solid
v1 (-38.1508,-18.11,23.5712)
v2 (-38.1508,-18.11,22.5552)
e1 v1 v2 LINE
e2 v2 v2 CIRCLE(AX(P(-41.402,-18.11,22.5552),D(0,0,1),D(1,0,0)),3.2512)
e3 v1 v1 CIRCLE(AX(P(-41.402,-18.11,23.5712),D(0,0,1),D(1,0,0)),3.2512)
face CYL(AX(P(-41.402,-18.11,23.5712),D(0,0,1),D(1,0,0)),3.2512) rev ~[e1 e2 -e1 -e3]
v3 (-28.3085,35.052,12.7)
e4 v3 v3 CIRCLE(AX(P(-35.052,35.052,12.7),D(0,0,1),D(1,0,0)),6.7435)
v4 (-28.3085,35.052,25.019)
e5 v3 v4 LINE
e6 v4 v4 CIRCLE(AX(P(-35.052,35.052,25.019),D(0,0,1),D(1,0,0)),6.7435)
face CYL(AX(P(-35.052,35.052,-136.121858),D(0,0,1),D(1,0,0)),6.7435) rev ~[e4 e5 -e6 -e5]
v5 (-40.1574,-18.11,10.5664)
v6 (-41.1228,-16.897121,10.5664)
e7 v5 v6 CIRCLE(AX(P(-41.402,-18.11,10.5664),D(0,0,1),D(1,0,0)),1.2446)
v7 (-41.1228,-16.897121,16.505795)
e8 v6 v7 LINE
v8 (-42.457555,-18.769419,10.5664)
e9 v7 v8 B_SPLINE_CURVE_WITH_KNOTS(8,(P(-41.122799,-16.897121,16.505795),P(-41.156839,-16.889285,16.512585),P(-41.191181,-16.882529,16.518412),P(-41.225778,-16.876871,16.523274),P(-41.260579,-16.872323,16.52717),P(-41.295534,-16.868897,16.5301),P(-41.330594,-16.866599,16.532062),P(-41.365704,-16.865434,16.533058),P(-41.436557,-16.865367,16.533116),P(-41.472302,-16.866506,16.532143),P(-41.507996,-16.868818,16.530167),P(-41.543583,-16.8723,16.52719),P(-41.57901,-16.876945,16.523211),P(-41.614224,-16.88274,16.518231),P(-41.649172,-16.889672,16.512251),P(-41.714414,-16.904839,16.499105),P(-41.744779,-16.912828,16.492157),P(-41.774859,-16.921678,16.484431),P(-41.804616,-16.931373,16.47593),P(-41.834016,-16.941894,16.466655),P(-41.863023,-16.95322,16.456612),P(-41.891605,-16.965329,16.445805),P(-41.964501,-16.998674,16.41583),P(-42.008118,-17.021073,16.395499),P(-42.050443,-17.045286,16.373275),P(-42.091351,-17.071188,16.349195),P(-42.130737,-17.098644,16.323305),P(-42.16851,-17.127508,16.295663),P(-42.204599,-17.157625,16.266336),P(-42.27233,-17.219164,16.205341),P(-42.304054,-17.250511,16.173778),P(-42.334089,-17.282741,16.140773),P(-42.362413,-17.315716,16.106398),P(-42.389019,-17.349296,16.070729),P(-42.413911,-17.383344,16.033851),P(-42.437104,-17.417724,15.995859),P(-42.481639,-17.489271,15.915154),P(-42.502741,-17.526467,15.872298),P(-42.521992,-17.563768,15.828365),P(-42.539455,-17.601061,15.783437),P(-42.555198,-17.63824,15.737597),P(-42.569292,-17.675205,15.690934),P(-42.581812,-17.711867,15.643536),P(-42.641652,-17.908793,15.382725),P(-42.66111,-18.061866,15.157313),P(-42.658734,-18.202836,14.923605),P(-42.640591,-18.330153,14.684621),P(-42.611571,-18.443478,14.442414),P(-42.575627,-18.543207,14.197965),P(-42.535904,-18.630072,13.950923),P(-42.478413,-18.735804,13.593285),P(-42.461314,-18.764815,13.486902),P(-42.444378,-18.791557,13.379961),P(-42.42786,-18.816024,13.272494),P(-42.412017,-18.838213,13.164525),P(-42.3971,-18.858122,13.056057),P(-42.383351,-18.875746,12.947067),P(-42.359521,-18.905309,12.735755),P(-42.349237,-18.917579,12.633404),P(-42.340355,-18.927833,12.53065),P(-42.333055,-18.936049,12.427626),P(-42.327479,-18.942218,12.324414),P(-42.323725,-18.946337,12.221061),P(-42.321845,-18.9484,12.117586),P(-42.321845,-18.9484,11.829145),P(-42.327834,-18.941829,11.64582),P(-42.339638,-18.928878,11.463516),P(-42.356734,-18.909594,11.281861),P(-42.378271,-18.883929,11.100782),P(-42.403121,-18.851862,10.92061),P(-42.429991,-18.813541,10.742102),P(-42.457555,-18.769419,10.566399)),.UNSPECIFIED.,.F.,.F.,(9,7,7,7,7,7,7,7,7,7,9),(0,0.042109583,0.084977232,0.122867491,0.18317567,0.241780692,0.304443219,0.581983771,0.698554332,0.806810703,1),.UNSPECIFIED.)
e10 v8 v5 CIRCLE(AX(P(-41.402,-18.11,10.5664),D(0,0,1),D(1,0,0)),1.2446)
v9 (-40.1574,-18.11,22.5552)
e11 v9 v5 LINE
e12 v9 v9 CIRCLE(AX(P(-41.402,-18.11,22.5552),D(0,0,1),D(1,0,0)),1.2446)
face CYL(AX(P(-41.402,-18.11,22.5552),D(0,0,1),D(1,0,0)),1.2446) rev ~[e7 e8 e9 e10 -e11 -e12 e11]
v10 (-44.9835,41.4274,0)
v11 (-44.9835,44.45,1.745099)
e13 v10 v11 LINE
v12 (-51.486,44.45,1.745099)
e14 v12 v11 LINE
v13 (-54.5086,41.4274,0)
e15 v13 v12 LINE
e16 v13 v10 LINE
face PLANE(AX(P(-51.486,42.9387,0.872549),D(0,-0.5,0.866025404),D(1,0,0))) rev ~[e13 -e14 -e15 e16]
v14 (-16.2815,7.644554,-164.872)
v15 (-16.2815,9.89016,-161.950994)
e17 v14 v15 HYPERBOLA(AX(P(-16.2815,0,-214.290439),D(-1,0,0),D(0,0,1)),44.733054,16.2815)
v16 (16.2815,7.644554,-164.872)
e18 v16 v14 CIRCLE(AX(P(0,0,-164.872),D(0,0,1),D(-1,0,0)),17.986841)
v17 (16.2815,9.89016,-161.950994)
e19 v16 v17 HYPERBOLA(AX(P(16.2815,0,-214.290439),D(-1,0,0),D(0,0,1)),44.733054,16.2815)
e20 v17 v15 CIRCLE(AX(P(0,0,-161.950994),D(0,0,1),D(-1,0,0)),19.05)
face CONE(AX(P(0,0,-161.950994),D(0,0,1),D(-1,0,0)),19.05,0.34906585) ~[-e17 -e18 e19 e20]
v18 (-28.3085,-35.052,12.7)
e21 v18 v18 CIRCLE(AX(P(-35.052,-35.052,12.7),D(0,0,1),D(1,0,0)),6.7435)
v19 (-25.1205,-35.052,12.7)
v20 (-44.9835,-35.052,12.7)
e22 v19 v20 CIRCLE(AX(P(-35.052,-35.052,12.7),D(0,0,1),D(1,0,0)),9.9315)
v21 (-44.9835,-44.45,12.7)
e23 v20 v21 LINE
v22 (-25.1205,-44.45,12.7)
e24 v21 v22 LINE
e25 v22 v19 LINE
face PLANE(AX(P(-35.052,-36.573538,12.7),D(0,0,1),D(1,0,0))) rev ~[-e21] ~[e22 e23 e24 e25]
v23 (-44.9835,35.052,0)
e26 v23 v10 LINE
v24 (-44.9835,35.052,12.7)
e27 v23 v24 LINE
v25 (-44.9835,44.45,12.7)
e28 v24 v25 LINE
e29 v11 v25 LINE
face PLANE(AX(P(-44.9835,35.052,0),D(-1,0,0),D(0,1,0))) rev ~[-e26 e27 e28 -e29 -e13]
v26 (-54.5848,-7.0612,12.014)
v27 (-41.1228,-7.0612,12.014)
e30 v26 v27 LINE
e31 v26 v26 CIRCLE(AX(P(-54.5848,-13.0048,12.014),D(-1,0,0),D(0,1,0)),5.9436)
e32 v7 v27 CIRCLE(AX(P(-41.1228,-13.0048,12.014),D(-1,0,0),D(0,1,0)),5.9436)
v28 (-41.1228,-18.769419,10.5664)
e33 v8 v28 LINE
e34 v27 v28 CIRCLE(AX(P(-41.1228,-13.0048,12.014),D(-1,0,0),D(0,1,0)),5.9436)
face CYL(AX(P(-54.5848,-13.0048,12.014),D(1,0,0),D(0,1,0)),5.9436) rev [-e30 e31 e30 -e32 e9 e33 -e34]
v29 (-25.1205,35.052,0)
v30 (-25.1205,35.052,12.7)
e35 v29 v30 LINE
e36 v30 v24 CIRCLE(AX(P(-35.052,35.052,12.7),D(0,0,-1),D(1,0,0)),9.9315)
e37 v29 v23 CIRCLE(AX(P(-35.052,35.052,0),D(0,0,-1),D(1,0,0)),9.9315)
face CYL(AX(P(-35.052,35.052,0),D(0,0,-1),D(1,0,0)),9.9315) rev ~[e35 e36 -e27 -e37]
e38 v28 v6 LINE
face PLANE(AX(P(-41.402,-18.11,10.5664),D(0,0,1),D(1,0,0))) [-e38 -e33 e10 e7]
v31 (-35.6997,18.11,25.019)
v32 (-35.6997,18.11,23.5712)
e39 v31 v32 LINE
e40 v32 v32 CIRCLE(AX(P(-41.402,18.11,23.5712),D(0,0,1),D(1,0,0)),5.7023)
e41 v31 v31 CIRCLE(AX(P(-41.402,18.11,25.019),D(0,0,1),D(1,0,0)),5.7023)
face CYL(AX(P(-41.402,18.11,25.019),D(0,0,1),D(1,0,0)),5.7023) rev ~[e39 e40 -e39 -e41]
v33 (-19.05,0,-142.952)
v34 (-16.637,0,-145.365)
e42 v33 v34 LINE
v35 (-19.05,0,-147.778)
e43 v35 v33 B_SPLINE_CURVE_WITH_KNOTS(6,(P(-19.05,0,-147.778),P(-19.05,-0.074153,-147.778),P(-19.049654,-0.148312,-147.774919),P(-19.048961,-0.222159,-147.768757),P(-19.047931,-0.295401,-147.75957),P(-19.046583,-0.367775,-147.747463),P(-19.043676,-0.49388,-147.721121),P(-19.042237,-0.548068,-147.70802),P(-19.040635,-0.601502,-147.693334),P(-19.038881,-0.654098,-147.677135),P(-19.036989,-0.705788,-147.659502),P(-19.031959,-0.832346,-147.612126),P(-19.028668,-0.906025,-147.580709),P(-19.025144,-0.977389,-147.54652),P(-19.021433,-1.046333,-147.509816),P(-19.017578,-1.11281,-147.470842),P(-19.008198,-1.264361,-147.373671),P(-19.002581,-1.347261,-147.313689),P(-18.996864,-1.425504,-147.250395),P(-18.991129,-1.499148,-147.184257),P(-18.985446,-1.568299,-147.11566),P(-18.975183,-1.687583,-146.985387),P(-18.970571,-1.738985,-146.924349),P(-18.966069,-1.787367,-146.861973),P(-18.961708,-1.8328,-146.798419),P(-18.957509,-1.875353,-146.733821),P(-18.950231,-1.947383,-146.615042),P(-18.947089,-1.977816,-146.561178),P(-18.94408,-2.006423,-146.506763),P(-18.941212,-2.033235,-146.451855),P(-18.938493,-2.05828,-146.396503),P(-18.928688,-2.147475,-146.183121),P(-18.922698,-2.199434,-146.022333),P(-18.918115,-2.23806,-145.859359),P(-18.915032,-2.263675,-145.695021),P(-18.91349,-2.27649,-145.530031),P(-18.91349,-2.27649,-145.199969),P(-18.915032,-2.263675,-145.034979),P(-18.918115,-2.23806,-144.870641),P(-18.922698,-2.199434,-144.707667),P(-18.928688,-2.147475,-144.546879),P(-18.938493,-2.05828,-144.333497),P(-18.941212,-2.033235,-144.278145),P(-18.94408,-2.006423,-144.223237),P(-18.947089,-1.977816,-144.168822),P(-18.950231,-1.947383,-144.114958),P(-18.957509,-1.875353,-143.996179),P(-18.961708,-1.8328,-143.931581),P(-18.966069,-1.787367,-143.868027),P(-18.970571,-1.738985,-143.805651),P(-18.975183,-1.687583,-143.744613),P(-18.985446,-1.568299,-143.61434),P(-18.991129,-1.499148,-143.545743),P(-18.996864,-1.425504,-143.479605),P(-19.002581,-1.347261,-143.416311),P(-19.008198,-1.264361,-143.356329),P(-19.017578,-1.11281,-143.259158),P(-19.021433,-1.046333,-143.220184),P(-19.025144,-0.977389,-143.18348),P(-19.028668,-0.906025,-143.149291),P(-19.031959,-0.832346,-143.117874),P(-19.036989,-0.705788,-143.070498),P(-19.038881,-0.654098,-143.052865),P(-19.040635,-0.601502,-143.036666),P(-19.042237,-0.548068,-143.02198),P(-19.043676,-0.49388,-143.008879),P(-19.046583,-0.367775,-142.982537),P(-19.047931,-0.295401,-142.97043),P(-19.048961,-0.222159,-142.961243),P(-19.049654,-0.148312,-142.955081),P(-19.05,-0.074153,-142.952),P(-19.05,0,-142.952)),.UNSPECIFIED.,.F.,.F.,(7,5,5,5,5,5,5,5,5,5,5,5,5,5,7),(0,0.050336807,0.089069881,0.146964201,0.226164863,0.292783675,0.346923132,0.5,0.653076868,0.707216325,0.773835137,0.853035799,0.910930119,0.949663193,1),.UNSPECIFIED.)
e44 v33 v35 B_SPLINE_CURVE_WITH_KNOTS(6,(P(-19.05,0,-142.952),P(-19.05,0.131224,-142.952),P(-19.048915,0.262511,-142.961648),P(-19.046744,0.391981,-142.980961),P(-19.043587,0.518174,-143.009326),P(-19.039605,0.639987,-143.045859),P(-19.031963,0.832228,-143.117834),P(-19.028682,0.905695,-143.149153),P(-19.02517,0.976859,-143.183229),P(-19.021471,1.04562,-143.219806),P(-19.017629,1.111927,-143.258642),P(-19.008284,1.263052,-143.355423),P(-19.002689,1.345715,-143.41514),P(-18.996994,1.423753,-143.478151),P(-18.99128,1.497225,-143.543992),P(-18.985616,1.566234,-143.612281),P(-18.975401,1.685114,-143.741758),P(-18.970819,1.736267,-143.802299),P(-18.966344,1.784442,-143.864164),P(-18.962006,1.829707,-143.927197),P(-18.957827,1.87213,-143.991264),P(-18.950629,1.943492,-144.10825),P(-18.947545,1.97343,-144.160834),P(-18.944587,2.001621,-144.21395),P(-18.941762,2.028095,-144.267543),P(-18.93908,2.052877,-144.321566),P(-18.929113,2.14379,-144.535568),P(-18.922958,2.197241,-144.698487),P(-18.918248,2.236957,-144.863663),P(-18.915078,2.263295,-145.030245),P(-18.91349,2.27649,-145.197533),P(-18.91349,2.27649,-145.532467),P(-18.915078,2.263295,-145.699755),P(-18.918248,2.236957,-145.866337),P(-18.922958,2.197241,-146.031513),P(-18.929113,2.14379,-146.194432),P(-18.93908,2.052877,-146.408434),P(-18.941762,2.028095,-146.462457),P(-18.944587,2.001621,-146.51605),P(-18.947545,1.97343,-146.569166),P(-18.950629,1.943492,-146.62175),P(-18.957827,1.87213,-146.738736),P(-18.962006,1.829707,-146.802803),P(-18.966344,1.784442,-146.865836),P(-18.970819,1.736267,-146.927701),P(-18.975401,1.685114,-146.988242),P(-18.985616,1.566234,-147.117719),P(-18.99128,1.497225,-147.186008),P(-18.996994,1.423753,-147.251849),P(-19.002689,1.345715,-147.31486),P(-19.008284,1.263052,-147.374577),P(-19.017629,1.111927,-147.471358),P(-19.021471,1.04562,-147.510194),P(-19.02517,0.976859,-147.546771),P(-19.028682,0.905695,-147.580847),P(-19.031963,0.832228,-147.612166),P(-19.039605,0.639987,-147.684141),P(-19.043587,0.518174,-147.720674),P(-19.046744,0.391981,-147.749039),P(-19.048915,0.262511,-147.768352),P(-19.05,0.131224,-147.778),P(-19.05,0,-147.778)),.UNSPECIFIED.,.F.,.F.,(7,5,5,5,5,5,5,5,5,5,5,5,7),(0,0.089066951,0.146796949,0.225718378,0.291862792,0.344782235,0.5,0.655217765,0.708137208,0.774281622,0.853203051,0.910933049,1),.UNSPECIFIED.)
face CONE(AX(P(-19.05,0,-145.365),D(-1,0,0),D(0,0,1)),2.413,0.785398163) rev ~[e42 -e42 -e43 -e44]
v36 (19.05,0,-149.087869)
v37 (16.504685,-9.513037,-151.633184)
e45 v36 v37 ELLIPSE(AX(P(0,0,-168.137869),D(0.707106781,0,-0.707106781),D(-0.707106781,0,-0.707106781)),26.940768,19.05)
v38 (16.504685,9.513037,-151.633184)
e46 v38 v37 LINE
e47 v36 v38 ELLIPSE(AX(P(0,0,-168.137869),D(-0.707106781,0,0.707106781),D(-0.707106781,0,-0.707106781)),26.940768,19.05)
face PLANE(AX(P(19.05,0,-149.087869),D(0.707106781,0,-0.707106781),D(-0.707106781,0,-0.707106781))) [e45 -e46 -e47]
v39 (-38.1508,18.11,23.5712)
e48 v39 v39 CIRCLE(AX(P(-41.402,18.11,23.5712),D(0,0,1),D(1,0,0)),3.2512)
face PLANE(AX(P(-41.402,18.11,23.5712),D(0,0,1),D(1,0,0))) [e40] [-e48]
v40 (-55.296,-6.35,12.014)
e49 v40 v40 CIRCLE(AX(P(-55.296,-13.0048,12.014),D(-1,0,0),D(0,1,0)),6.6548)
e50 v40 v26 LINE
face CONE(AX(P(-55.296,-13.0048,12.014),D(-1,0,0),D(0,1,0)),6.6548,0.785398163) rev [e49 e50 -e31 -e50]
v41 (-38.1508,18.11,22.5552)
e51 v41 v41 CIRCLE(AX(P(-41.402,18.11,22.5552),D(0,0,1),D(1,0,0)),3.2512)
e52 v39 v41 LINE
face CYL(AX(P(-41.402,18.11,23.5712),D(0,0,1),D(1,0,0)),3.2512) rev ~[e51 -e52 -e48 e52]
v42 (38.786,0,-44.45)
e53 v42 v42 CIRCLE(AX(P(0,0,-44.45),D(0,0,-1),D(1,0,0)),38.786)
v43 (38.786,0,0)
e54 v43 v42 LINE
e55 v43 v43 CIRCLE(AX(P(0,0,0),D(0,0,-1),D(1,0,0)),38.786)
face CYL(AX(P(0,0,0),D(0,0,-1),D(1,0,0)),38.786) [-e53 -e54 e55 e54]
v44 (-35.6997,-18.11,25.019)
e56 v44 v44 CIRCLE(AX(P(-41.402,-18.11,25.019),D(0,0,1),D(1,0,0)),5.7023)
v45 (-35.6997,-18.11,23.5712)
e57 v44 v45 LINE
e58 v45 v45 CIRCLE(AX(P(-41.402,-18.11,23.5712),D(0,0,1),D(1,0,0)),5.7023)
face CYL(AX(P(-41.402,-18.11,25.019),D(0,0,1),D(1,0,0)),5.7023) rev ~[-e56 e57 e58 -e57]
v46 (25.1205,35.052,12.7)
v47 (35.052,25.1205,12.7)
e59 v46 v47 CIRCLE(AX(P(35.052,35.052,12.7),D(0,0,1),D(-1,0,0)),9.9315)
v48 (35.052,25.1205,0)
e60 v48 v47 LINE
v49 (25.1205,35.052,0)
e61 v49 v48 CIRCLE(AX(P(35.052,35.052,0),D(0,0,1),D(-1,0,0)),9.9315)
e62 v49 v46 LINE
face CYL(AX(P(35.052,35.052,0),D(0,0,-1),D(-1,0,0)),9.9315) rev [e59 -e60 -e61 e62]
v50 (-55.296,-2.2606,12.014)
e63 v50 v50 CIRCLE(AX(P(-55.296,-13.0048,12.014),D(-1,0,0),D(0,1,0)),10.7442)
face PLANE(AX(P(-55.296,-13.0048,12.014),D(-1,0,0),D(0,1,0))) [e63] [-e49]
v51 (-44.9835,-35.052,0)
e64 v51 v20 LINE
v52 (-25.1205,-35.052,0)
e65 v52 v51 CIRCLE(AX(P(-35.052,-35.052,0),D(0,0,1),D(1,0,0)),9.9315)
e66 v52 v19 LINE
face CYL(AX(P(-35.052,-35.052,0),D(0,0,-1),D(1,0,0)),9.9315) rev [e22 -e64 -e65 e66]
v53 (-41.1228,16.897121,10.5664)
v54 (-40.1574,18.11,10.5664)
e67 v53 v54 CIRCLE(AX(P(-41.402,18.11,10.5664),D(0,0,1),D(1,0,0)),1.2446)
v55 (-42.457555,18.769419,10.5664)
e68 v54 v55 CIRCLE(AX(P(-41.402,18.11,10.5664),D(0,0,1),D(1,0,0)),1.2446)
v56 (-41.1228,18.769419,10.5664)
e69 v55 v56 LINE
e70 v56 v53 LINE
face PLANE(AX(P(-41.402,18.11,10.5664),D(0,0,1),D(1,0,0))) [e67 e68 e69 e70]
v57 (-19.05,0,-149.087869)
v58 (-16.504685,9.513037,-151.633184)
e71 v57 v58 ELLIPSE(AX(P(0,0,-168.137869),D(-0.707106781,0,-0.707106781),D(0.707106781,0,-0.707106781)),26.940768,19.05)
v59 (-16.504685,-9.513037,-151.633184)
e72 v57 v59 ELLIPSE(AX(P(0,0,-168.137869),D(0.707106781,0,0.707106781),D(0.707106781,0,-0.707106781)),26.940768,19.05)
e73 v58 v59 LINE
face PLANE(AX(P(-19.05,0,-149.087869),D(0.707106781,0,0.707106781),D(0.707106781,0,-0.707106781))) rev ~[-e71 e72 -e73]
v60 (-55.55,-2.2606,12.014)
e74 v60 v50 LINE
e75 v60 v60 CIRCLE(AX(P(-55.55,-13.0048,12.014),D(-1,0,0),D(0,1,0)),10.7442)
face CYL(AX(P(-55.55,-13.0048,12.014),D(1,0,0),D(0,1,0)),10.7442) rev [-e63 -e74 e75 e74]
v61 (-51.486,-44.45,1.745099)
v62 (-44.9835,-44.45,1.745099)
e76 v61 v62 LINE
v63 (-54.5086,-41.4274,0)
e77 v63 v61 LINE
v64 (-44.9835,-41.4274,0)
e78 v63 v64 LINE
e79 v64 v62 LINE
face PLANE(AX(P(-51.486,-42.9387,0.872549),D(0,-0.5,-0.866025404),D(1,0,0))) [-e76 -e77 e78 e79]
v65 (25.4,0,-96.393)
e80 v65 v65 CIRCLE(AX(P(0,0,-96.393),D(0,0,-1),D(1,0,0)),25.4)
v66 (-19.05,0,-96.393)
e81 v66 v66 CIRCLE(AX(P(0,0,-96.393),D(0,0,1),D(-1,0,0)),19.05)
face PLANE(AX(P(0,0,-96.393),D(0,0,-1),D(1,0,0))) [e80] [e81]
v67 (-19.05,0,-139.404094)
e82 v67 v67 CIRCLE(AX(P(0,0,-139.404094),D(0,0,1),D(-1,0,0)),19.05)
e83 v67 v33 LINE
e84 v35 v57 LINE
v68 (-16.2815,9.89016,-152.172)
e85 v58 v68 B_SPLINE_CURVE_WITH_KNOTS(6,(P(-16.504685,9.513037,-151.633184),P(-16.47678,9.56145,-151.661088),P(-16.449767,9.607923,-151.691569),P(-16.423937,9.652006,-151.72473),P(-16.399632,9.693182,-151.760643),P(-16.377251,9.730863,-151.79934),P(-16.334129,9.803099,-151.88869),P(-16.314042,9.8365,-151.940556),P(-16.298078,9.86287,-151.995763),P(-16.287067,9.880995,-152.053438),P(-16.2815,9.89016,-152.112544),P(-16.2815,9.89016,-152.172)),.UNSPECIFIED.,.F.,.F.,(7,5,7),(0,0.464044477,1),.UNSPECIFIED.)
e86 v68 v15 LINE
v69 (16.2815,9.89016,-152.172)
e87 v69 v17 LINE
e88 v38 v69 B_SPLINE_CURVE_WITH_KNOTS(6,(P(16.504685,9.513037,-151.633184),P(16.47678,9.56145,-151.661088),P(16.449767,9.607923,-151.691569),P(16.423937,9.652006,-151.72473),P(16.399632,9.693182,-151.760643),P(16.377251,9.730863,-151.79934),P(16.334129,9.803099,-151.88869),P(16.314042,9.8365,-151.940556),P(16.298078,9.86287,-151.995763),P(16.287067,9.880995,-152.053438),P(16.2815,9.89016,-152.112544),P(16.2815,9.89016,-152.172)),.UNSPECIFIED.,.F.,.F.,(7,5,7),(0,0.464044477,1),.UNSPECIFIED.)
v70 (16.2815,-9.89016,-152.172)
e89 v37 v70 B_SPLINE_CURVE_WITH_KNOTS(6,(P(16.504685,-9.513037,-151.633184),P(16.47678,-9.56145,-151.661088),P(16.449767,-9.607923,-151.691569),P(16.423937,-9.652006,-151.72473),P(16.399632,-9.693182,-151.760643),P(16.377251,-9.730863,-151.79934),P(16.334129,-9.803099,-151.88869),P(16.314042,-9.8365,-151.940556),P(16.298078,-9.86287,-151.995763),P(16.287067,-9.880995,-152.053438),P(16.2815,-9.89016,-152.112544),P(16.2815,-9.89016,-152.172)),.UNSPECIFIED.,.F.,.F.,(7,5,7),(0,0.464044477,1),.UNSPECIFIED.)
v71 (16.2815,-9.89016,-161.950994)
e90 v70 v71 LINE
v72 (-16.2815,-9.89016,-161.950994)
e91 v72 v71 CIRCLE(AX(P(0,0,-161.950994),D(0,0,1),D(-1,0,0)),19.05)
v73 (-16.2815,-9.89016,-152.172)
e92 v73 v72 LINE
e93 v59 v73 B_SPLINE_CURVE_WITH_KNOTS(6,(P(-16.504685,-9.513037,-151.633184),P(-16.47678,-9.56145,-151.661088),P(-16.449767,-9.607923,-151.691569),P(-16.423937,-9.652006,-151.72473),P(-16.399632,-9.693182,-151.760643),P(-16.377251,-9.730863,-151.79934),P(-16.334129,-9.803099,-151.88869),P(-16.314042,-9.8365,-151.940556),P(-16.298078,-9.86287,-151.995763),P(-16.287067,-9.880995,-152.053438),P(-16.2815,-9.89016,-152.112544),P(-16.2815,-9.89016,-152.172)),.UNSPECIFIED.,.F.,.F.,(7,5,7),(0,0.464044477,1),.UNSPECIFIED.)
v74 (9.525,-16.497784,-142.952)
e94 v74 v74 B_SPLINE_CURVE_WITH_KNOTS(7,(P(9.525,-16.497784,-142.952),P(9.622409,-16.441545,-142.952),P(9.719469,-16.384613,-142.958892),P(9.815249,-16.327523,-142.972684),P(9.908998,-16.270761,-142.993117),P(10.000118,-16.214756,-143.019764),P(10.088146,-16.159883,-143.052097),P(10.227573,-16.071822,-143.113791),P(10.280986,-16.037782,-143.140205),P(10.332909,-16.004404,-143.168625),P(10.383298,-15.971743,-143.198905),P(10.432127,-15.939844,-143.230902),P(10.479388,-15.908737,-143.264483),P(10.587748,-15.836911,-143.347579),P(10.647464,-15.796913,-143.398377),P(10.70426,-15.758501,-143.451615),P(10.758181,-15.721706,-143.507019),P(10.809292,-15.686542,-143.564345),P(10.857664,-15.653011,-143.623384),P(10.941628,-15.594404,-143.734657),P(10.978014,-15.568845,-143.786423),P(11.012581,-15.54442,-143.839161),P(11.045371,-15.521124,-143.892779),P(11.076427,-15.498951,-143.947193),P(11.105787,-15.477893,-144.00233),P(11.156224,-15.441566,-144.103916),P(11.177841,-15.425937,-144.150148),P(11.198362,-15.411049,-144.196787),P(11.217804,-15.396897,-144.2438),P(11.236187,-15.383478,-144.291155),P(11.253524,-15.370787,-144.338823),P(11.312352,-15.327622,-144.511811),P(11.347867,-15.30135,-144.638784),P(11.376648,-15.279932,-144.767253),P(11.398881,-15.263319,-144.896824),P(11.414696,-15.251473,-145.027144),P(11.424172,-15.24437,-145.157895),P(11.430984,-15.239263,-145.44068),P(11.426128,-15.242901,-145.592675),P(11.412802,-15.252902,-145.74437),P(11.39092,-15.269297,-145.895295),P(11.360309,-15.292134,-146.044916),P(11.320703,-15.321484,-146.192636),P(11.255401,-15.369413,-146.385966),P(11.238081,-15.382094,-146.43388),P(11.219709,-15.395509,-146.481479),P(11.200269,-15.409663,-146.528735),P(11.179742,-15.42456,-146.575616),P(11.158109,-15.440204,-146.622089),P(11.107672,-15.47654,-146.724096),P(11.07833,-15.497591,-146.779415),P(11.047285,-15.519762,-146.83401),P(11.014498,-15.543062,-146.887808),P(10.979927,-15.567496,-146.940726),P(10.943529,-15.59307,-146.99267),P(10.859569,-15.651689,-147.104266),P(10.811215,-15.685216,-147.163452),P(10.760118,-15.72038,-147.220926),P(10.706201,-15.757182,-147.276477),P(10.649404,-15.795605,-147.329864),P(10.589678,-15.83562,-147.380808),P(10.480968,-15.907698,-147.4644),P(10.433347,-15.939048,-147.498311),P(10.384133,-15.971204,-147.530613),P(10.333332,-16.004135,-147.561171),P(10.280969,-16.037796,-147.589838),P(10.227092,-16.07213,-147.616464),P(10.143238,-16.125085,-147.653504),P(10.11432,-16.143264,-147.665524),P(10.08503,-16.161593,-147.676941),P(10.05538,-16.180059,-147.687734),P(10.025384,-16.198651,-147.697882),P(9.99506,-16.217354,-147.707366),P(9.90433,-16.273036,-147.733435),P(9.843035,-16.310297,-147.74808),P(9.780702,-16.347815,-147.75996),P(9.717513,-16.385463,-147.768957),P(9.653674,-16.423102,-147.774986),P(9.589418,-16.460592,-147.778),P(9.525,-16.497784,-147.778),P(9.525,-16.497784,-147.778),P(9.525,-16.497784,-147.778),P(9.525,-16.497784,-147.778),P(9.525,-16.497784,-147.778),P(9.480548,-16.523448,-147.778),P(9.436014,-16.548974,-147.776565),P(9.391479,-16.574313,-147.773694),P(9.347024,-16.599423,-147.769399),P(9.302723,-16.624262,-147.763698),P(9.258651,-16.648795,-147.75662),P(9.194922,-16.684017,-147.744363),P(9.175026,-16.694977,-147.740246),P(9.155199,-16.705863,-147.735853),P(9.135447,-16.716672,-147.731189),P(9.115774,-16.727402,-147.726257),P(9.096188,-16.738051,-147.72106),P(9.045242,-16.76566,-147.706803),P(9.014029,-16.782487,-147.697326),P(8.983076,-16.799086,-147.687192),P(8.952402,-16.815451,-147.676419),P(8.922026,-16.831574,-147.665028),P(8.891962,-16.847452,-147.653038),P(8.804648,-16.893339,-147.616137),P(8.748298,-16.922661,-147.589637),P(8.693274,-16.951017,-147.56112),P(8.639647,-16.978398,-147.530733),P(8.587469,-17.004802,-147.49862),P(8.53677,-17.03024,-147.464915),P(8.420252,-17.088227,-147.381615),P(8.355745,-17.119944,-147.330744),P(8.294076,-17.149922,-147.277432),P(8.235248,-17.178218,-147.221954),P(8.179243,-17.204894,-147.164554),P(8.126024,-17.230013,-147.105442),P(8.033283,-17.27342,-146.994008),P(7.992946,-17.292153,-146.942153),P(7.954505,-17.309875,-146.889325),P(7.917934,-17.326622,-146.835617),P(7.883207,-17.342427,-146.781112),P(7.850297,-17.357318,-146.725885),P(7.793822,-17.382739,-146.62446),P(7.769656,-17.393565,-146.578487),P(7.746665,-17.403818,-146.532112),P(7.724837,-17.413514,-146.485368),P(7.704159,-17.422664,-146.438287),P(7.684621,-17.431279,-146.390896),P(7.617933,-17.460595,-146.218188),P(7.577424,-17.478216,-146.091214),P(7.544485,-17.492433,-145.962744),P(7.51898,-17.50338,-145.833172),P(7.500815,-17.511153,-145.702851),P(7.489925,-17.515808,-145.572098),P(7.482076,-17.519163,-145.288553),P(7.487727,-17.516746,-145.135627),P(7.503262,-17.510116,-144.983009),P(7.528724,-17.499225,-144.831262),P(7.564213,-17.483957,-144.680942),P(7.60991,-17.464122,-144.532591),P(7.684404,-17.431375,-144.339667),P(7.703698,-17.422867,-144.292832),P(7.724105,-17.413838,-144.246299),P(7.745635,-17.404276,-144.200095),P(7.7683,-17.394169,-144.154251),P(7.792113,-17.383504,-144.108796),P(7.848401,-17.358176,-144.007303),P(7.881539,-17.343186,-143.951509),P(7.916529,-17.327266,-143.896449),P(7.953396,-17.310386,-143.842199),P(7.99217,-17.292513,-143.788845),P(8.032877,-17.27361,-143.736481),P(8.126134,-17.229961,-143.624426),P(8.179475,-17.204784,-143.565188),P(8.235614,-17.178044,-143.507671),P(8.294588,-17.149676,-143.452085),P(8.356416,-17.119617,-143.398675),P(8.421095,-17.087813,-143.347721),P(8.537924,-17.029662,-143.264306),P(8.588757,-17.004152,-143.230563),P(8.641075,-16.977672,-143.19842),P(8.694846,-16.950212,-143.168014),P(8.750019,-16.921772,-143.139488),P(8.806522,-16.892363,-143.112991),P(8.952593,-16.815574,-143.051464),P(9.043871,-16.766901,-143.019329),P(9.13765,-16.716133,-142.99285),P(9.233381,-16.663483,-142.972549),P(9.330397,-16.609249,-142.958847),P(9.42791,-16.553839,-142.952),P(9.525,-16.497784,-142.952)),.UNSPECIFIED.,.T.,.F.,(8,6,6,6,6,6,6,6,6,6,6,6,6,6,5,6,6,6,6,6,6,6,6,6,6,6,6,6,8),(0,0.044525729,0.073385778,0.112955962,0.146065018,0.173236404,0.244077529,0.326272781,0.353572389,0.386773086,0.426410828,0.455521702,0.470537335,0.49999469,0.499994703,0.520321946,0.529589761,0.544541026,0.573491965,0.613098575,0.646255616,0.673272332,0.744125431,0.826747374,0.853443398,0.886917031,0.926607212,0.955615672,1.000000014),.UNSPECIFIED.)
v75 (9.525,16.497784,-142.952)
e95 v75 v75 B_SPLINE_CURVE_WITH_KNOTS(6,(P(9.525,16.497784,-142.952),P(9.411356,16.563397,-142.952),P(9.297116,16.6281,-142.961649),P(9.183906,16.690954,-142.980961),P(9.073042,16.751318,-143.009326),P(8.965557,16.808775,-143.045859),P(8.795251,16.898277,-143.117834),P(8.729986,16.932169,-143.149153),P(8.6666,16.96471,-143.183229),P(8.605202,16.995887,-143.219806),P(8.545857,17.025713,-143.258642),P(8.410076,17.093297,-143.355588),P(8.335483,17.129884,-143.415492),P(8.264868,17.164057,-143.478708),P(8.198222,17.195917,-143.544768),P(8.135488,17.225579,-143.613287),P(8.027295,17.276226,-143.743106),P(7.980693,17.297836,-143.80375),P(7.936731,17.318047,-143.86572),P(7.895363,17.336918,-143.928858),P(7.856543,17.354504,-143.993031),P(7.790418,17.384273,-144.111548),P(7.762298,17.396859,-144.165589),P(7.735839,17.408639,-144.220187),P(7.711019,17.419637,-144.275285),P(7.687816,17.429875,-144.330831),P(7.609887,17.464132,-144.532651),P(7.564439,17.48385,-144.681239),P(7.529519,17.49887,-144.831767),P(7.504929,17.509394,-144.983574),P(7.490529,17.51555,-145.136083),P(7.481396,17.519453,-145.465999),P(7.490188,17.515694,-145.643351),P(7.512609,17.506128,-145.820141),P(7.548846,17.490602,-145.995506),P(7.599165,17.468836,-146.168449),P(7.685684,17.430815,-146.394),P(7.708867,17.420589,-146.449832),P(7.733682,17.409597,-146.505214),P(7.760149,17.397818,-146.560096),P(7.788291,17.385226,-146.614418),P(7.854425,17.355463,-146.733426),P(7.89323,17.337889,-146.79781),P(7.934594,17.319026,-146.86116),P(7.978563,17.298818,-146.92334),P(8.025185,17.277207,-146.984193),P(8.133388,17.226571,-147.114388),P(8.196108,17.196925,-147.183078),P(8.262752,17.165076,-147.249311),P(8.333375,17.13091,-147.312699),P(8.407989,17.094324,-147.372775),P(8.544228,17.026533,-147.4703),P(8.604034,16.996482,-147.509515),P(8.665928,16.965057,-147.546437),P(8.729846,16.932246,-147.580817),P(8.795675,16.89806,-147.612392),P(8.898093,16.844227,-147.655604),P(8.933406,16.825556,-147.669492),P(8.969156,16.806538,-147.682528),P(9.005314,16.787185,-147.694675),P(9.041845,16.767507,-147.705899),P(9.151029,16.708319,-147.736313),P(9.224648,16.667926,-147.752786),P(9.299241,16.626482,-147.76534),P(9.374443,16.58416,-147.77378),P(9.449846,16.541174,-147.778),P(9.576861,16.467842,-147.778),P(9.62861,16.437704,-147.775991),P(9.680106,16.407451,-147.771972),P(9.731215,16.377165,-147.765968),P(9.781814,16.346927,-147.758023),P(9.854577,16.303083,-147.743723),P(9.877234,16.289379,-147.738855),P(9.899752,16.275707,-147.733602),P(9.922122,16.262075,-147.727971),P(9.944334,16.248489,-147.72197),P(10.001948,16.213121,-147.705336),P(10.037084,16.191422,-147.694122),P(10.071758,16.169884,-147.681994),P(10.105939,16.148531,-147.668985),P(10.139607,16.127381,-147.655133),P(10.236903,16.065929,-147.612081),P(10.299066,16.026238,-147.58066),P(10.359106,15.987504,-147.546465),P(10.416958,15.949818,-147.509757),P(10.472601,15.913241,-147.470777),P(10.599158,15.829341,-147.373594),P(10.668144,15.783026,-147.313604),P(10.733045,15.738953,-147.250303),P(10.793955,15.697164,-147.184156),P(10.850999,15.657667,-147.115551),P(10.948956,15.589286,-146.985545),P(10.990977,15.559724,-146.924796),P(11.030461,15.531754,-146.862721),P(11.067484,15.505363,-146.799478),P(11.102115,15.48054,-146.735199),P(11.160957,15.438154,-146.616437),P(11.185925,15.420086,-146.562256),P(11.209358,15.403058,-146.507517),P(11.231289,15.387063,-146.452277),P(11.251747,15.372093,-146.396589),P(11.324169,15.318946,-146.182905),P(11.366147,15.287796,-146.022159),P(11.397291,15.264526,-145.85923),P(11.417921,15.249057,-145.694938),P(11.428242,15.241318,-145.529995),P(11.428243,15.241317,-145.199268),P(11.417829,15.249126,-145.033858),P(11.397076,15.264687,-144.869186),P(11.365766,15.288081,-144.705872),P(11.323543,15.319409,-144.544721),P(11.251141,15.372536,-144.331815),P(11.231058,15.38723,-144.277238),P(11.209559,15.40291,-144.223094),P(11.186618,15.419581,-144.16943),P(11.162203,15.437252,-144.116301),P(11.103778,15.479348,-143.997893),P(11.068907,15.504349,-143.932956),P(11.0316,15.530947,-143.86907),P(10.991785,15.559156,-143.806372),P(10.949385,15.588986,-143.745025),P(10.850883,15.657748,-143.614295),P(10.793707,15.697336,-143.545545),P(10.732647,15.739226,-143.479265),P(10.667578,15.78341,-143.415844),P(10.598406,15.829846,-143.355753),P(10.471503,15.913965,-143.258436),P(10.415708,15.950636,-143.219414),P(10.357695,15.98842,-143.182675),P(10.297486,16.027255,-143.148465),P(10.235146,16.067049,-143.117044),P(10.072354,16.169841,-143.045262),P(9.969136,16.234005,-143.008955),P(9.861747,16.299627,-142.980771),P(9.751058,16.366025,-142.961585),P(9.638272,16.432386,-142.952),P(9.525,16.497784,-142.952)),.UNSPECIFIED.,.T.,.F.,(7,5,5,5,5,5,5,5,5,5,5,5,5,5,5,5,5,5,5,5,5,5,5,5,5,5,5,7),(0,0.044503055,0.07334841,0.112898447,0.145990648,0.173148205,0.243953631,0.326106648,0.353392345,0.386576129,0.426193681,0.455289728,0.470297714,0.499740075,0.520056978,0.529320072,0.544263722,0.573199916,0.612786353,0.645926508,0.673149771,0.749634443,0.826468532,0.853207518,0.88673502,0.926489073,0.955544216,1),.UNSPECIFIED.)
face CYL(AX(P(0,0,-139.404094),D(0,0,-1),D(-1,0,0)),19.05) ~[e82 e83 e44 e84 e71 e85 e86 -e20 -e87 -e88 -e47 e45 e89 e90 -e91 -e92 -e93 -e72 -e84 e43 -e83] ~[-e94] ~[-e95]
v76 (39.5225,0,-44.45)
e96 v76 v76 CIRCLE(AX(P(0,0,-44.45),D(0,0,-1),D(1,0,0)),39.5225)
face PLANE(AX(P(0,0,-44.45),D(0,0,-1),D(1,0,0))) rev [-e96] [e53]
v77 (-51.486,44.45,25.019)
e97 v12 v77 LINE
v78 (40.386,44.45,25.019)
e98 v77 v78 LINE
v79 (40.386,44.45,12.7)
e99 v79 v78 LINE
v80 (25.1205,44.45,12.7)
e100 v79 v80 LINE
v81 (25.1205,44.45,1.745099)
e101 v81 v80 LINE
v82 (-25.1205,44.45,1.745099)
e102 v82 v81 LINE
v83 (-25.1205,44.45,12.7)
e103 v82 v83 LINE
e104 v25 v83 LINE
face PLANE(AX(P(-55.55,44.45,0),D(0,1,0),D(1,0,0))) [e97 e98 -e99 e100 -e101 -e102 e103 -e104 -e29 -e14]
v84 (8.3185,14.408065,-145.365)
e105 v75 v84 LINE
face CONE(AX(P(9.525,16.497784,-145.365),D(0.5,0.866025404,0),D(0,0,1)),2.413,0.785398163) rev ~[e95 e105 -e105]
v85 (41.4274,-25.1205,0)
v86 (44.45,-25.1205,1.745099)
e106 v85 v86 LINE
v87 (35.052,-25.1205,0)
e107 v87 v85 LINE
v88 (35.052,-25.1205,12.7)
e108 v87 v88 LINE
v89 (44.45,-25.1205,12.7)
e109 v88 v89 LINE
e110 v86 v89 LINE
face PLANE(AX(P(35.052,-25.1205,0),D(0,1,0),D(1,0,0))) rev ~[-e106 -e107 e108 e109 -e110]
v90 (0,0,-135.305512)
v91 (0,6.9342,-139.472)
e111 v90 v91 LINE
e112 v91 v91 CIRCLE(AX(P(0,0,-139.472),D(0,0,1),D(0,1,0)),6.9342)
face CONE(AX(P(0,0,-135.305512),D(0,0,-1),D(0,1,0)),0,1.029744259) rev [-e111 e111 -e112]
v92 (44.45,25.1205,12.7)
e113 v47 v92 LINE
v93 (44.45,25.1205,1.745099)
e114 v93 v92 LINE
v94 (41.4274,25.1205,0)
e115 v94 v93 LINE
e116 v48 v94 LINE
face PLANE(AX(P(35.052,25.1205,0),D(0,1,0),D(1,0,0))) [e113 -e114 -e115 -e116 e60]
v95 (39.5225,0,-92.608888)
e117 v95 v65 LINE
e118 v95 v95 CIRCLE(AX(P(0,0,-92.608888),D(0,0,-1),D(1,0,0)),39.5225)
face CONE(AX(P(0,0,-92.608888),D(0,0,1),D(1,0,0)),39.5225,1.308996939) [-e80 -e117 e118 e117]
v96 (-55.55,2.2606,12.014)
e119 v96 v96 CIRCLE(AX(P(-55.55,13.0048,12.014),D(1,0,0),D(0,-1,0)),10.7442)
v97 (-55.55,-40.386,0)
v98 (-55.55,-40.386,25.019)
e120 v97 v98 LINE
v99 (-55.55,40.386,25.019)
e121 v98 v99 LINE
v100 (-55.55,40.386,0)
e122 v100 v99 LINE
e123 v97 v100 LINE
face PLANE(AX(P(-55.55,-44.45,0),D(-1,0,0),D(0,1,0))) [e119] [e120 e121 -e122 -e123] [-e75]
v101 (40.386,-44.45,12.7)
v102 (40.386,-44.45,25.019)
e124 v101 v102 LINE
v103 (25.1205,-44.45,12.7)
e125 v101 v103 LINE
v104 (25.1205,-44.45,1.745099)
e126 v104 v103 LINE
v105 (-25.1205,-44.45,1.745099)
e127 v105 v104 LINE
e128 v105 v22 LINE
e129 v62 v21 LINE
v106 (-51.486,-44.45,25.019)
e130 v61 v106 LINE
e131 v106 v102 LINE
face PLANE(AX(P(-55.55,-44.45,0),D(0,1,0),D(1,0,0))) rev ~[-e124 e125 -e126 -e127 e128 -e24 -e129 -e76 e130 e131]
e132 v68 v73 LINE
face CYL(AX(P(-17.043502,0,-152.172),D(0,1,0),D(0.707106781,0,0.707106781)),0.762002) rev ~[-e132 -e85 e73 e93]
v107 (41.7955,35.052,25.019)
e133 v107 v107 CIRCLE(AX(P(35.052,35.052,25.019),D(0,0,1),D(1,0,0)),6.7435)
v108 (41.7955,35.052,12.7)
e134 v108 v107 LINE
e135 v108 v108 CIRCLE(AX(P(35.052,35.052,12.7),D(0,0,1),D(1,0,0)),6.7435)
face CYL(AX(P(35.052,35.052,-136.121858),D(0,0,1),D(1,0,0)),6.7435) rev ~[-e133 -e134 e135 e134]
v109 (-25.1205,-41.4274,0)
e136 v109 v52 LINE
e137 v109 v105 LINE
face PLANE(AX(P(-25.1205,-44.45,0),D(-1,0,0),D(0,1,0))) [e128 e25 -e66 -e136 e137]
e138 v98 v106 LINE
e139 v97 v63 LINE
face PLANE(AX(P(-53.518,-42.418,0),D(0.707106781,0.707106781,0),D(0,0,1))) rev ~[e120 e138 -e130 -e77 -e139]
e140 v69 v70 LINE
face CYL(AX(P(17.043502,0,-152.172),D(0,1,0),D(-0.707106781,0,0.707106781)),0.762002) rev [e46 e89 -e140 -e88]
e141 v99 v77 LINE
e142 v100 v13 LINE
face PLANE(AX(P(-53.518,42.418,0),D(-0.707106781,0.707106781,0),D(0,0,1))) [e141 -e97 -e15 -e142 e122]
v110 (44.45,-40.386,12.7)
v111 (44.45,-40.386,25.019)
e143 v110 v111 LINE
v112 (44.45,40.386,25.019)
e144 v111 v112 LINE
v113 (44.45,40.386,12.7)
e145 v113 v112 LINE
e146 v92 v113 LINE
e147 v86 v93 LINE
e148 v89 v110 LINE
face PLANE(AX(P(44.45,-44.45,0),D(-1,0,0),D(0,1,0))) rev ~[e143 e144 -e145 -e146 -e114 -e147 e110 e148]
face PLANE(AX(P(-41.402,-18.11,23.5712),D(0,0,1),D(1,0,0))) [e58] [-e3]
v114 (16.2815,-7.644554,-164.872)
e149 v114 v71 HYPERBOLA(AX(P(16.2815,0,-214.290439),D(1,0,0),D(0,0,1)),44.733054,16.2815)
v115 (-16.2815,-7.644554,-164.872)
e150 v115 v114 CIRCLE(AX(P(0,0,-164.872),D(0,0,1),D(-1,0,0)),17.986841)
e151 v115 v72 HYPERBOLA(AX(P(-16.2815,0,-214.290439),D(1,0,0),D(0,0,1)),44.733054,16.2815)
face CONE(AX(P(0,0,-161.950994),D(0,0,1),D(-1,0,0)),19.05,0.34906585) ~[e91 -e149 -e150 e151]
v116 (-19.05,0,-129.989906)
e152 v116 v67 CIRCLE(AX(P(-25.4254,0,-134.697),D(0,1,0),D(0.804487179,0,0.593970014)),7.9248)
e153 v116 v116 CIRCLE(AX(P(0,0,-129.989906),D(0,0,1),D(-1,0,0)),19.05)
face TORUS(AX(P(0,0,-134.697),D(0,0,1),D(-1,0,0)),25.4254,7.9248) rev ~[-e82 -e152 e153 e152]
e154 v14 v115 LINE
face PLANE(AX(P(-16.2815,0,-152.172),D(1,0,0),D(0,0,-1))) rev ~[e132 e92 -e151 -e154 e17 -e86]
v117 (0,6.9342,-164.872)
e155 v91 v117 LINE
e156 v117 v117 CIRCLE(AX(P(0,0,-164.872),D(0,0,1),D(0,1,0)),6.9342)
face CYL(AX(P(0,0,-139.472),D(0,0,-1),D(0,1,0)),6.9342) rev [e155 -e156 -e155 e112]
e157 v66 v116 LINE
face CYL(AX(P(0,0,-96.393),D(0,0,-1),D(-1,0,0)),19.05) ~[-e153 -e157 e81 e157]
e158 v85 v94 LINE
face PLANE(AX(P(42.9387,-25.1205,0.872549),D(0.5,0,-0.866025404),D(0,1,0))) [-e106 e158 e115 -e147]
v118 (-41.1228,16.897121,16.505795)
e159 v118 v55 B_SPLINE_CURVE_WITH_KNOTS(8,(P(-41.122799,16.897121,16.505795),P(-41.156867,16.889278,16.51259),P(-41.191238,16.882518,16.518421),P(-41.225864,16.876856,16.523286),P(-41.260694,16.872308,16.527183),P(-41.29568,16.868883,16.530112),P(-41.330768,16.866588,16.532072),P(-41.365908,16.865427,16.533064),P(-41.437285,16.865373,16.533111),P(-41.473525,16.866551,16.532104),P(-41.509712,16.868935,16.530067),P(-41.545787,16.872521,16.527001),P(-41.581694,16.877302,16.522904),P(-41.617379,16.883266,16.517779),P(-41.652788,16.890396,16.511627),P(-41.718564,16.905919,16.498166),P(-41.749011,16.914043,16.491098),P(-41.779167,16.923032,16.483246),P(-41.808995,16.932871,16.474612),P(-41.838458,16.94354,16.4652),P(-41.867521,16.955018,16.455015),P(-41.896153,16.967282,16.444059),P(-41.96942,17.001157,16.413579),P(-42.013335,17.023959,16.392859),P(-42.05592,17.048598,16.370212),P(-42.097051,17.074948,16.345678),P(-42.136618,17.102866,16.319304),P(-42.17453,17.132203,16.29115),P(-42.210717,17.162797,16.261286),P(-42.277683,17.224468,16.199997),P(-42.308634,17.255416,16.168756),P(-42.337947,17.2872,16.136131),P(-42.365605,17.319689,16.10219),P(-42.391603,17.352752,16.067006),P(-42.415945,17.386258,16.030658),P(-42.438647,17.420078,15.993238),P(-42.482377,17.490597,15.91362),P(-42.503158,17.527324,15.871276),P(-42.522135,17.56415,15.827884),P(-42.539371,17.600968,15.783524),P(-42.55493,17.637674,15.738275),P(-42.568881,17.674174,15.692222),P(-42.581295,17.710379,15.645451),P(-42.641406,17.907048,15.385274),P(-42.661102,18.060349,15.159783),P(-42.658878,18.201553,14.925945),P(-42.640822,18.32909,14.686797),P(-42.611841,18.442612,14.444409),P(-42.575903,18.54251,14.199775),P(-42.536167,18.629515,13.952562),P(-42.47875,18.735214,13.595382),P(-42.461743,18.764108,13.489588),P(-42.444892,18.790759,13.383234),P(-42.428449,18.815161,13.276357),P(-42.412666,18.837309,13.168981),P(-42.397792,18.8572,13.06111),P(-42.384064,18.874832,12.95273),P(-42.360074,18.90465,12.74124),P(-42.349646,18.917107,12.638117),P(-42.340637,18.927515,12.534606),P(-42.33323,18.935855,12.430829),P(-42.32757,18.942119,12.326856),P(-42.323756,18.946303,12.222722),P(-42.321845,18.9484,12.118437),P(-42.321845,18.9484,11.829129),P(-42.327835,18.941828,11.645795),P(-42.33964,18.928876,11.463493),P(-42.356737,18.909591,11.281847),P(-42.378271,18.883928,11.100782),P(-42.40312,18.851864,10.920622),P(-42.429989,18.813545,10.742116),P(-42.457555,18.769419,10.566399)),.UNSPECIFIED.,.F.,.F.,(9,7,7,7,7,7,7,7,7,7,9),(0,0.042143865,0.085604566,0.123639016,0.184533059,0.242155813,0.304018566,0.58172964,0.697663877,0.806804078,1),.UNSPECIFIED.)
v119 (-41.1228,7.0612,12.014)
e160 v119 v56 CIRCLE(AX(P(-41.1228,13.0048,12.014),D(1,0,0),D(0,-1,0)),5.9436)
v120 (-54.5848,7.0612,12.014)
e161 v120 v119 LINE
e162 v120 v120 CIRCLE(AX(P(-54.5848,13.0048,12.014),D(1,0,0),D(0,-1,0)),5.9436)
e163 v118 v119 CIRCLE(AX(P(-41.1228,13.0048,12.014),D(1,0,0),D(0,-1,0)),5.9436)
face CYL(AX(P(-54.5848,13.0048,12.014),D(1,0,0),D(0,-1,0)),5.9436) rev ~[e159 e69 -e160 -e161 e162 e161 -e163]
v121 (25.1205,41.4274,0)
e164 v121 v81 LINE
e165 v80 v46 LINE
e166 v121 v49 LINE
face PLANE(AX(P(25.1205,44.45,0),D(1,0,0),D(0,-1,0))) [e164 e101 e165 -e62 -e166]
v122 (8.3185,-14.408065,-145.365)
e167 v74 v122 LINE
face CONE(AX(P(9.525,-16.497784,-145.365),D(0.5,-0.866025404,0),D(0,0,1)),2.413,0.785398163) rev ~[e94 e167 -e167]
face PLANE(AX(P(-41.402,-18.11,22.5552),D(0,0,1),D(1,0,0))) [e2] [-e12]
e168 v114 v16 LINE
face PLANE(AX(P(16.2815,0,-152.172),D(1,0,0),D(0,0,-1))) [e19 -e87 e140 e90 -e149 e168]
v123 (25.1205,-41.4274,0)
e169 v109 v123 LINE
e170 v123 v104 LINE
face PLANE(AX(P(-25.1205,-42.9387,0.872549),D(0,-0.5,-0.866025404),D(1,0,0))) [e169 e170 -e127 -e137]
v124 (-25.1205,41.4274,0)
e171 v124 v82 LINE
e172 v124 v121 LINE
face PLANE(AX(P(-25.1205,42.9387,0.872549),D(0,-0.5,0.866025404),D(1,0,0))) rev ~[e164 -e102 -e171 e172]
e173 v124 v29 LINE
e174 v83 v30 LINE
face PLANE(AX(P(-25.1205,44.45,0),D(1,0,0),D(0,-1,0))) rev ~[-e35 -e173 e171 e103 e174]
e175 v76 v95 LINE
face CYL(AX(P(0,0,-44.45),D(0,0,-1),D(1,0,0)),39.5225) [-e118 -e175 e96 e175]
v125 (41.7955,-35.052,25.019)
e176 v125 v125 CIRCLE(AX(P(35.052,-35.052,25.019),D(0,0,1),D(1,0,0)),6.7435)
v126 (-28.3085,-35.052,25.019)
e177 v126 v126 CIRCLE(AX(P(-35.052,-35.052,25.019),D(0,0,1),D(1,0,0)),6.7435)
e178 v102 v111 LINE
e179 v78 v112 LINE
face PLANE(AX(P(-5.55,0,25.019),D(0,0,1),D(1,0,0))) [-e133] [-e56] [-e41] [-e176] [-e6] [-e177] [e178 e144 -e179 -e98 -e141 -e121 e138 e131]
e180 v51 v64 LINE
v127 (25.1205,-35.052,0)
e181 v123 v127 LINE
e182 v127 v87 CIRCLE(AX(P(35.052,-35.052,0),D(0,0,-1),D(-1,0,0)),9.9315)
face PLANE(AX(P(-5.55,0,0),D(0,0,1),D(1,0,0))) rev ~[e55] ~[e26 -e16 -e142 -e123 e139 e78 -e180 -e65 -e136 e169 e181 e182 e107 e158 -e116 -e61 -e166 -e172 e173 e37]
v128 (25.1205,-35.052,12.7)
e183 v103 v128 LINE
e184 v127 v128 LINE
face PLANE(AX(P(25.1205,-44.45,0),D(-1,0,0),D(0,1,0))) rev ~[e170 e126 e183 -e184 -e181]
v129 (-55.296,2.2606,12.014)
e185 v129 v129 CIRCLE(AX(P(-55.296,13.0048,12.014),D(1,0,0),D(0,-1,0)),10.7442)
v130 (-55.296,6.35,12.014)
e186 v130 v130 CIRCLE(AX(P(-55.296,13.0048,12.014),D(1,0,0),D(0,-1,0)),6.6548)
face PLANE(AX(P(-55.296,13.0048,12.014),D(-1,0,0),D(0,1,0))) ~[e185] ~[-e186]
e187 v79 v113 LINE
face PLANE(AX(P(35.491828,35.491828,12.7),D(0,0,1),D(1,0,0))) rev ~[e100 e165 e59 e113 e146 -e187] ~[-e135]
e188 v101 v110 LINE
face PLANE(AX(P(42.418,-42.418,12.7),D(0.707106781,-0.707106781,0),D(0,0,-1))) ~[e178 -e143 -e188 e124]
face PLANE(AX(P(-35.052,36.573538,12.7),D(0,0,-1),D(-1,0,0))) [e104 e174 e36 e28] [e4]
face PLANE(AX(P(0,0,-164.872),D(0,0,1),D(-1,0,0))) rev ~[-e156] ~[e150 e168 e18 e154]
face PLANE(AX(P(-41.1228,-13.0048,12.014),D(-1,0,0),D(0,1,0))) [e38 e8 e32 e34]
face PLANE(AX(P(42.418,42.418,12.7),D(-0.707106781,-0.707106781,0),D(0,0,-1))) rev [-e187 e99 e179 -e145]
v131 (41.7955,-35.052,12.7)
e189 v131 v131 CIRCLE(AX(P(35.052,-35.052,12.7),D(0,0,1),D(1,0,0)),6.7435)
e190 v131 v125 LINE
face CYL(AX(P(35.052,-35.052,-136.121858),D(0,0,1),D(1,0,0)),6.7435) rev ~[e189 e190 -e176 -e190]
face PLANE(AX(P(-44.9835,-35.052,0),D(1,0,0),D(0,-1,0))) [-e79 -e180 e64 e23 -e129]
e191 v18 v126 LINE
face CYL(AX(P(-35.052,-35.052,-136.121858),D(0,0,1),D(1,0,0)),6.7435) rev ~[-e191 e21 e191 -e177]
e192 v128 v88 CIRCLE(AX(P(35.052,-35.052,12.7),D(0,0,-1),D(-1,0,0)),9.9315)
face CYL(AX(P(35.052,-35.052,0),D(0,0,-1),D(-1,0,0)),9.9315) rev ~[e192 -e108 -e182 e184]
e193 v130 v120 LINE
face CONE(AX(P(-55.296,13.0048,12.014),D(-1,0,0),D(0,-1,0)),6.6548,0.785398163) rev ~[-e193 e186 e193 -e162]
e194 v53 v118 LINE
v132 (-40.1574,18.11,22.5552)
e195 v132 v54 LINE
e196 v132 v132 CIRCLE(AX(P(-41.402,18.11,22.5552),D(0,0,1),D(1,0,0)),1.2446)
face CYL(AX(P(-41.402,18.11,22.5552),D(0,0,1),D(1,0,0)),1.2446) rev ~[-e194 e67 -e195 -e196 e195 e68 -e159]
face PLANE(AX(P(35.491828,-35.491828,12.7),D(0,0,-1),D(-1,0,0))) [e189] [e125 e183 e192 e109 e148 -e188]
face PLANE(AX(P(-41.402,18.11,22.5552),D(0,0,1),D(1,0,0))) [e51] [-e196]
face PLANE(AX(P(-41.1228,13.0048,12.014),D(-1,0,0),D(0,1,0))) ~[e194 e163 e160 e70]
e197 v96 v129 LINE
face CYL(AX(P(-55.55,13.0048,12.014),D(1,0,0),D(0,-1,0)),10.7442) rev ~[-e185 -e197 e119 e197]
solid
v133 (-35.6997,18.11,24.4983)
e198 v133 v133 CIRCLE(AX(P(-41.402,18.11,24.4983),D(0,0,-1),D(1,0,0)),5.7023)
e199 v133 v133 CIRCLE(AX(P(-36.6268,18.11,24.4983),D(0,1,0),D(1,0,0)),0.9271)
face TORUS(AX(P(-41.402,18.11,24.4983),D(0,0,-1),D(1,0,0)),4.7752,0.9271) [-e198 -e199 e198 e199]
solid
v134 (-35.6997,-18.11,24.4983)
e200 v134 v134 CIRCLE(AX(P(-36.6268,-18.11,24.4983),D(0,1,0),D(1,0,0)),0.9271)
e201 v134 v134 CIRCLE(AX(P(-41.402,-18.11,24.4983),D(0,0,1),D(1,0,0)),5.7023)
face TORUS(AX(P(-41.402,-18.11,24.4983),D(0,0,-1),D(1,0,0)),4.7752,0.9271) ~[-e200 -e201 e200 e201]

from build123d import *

# Parameters (mm, degrees)
SKETCH1_W               = 100
SKETCH1_H               = 88.9
EXTRUDE1_DEPTH          = 25.019
HOLE1_D                 = 13.487
CUT_EXTRUDE2_DEPTH      = 12.7
SKETCH6_R               = 5.7023
CUT_EXTRUDE3_DEPTH      = 1.4478
SKETCH7_R               = 3.2512
CUT_EXTRUDE4_DEPTH      = 1.016
SKETCH8_R               = 1.2446
CUT_EXTRUDE5_DEPTH      = 11.9888
SKETCH9_R               = 0.9271
CHAMFER1_SIZE           = 4.064
CHAMFER2_SIZE           = 3.0226
CHAMFER2_SIZE2          = 1.745098924
CIRPATTERN1_COUNT       = 3
CUT_EXTRUDE8_DEPTH      = 45.45
CUT_EXTRUDE8_DEPTH_BACK = 45.45


with BuildPart() as part:
    # Sketch1 → Extrude1 (new body)
    with BuildSketch(Plane.XY):
        with Locations((-5.55, 0)):
            Rectangle(SKETCH1_W, SKETCH1_H)
    extrude(amount=EXTRUDE1_DEPTH)

    # Hole1 (through all)
    with Locations(Plane(origin=(0, 0, 0), x_dir=(-1, 0, 0), z_dir=(0, 0, -1))):
        with Locations((-35.052, -35.052), (-35.052, 35.052), (35.052, 35.052), (35.052, -35.052)):
            Hole(HOLE1_D / 2)

    # Sketch3 → Cut-Extrude2 (cut)
    with BuildSketch(Plane(origin=(0, 0, 0), x_dir=(-1, 0, 0), z_dir=(0, 0, -1))):
        with BuildLine():
            Line((-35.052, -25.1205), (-44.45, -25.1205))
            Line((-44.45, -25.1205), (-44.45, -44.45))
            Line((-44.45, -44.45), (-25.1205, -44.45))
            Line((-25.1205, -44.45), (-25.1205, -35.052))
            ThreePointArc((-25.1205, -35.052), (-28.029369003, -28.029369003), (-35.052, -25.1205))
        make_face()
        with BuildLine():
            Line((-44.45, 25.1205), (-44.45, 44.45))
            Line((-44.45, 44.45), (-25.1205, 44.45))
            Line((-25.1205, 44.45), (-25.1205, 35.052))
            ThreePointArc((-25.1205, 35.052), (-28.029369003, 28.029369003), (-35.052, 25.1205))
            Line((-35.052, 25.1205), (-44.45, 25.1205))
        make_face()
        with BuildLine():
            Line((25.1205, 44.45), (25.1205, 35.052))
            ThreePointArc((25.1205, 35.052), (35.052, 25.1205), (44.9835, 35.052))
            Line((44.9835, 35.052), (44.9835, 44.45))
            Line((44.9835, 44.45), (25.1205, 44.45))
        make_face()
        with BuildLine():
            Line((44.9835, -44.45), (25.1205, -44.45))
            Line((25.1205, -44.45), (25.1205, -35.052))
            ThreePointArc((25.1205, -35.052), (35.052, -25.1205), (44.9835, -35.052))
            Line((44.9835, -35.052), (44.9835, -44.45))
        make_face()
    extrude(amount=-CUT_EXTRUDE2_DEPTH, mode=Mode.SUBTRACT)

    # Sketch23 → Cut-Revolve5 (revolve, cut)
    with BuildSketch(Plane.XY.offset(12.014), mode=Mode.PRIVATE) as cut_revolve5_sk:
        Polygon((-55.55, -23.749), (-55.296, -23.749), (-55.296, -19.6596), (-54.5848, -18.9484), (-41.1228, -18.9484), (-41.1228, -13.0048), (-55.55, -13.0048), align=None)
    cut_revolve5 = revolve(cut_revolve5_sk.sketch.rotate(Axis((-11.939660979, -13.0048, 12.014), (-1, 0, 0)), 180), axis=Axis((-11.939660979, -13.0048, 12.014), (-1, 0, 0)), mode=Mode.SUBTRACT)  # turned: the seam where the file's is

    # Mirror1: Cut-Revolve5 across plane
    add(cut_revolve5.mirror(Plane.ZX), mode=Mode.SUBTRACT)

    # Sketch6 → Cut-Extrude3 (cut)
    with BuildSketch(Plane.XY.offset(25.019)):
        with Locations((-41.402, -18.11)):
            Circle(SKETCH6_R)
        with Locations((-41.402, 18.11)):
            Circle(SKETCH6_R)
    extrude(amount=-CUT_EXTRUDE3_DEPTH, mode=Mode.SUBTRACT)

    # Sketch7 → Cut-Extrude4 (cut)
    with BuildSketch(Plane.XY.offset(23.5712)):
        with Locations((-41.402, 18.11)):
            Circle(SKETCH7_R)
        with Locations((-41.402, -18.11)):
            Circle(SKETCH7_R)
    extrude(amount=-CUT_EXTRUDE4_DEPTH, mode=Mode.SUBTRACT)

    # Sketch8 → Cut-Extrude5 (cut)
    with BuildSketch(Plane.XY.offset(22.5552)):
        with Locations((-41.402, 18.11)):
            Circle(SKETCH8_R)
        with Locations((-41.402, -18.11)):
            Circle(SKETCH8_R)
    extrude(amount=-CUT_EXTRUDE5_DEPTH, mode=Mode.SUBTRACT)

    # Chamfer1
    chamfer1_edges = [part.edges().sort_by_distance(p)[0] for p in [
        (-55.55, 44.45, 12.5095),
        (44.45, 44.45, 18.8595),
        (44.45, -44.45, 18.8595),
        (-55.55, -44.45, 12.5095),
    ]]
    chamfer(chamfer1_edges, length=CHAMFER1_SIZE)

    # Chamfer2
    chamfer2_edges = [part.edges().sort_by_distance(p)[0] for p in [
        (-48.23475, -44.45, 0),
        (44.45, 0, 0),
        (0, 44.45, 0),
        (-48.23475, 44.45, 0),
        (0, -44.45, 0),
    ]]
    chamfer2_side = [part.faces().sort_by_distance(p)[0] for p in [
        (-6.590555374, 0, 0),
    ]]
    chamfer(chamfer2_edges, length=CHAMFER2_SIZE, length2=CHAMFER2_SIZE2, reference=chamfer2_side[0])

    # Sketch24 → Revolve4 (revolve)
    with BuildSketch(Plane(origin=(0, 0, 0), x_dir=(0, 0, -1), z_dir=(1, 0, 0)), mode=Mode.PRIVATE) as revolve4_sk:
        Polygon((0, 0), (0, 38.786), (44.45, 38.786), (44.45, 39.5225), (92.60888753, 39.5225), (96.393, 25.4), (96.393, 0), align=None)
    revolve(revolve4_sk.sketch.rotate(Axis((0, 0, 0), (0, 0, -1)), 90), axis=Axis((0, 0, 0), (0, 0, -1)))  # turned: the seam where the file's is

    # Sketch17 → Revolve3 (revolve)
    with BuildSketch(Plane(origin=(0, 0, 0), x_dir=(0, 0, -1), z_dir=(1, 0, 0)), mode=Mode.PRIVATE) as revolve3_sk:
        with BuildLine():
            Line((96.393, 0), (96.393, -19.05))
            Line((96.393, -19.05), (129.98990643, -19.05))
            ThreePointArc((129.98990643, -19.05), (134.697, -17.5006), (139.40409357, -19.05))
            Line((139.40409357, -19.05), (161.95099416, -19.05))
            Line((161.95099416, -19.05), (164.872, -17.98684082))
            Line((164.872, -17.98684082), (164.872, 0))
            Line((164.872, 0), (96.393, 0))
        make_face()
    revolve(revolve3_sk.sketch.rotate(Axis((0, 0, -130.8989), (0, 0, 1)), 270), axis=Axis((0, 0, -130.8989), (0, 0, 1)))  # turned: the seam where the file's is

    # Sketch28 → Cut-Revolve6 (revolve, cut)
    with BuildSketch(Plane(origin=(0, 0, 0), x_dir=(1, 0, 0), z_dir=(0, 1, 0)), mode=Mode.PRIVATE) as cut_revolve6_sk:
        Polygon((-19.05, 147.778), (-16.637, 145.365), (-19.05, 145.365), align=None)
    cut_revolve6 = revolve(cut_revolve6_sk.sketch.rotate(Axis((-34.306164512, 0, -145.365), (1, 0, 0)), 180), axis=Axis((-34.306164512, 0, -145.365), (1, 0, 0)), mode=Mode.SUBTRACT)  # turned: the seam where the file's is

    # CirPattern1: Cut-Revolve6 ×3 about axis
    cirpattern1_axis = Axis((0, 0, -130.8989), (0, 0, -1))
    for i in range(1, CIRPATTERN1_COUNT):
        add(cut_revolve6.rotate(cirpattern1_axis, i * 360 / CIRPATTERN1_COUNT), mode=Mode.SUBTRACT)

    # Sketch32 → Hole2 (revolve, cut)
    with BuildSketch(Plane(origin=(0, 0, -164.872), x_dir=(0, 1, 0), z_dir=(1, 0, 0))):
        Polygon((0, 0), (0, 29.566487704), (6.9342, 25.4), (6.9342, 0), align=None)
    revolve(axis=Axis((0, 0, -169.116199587), (0, 0, 1)), mode=Mode.SUBTRACT)

    # Sketch34 → Cut-Extrude8 (cut, two sides)
    with BuildSketch(Plane(origin=(0, 0, 0), x_dir=(0, 0, -1), z_dir=(0, 1, 0))) as cut_extrude8_sk:
        with BuildLine():
            Line((149.087868636, 19.05), (151.633183558, 16.504685078))
            ThreePointArc((151.633183558, 16.504685078), (151.880394643, 16.339503912), (152.172, 16.2815))
            Line((152.172, 16.2815), (164.872, 16.2815))
            Line((164.872, 16.2815), (164.872, 19.05))
            Line((164.872, 19.05), (149.087868636, 19.05))
        make_face()
        with BuildLine():
            Line((164.872, -19.05), (149.087868636, -19.05))
            Line((149.087868636, -19.05), (151.633183558, -16.504685078))
            ThreePointArc((151.633183558, -16.504685078), (151.880394643, -16.339503912), (152.172, -16.2815))
            Line((152.172, -16.2815), (164.872, -16.2815))
            Line((164.872, -16.2815), (164.872, -19.05))
        make_face()
    extrude(amount=CUT_EXTRUDE8_DEPTH, mode=Mode.SUBTRACT)
    extrude(cut_extrude8_sk.sketch, amount=-CUT_EXTRUDE8_DEPTH_BACK, mode=Mode.SUBTRACT)


with BuildPart() as body_2:
    # Sketch9 → Revolve1 (revolve)
    with BuildSketch(Plane(origin=(-41.656, 18.11, 23.5712), x_dir=(1, 0, 0), z_dir=(0, 1, 0))):
        with Locations((5.0292, -0.9271)):
            Circle(SKETCH9_R)
    revolve(axis=Axis((-41.402, 18.11, 25.51811), (0, 0, -1)))


with BuildPart() as body_3:
    # Mirror2: mirrored copy
    add(body_2.part.mirror(Plane.ZX))


solid = Compound([part.part, body_2.part, body_3.part])
